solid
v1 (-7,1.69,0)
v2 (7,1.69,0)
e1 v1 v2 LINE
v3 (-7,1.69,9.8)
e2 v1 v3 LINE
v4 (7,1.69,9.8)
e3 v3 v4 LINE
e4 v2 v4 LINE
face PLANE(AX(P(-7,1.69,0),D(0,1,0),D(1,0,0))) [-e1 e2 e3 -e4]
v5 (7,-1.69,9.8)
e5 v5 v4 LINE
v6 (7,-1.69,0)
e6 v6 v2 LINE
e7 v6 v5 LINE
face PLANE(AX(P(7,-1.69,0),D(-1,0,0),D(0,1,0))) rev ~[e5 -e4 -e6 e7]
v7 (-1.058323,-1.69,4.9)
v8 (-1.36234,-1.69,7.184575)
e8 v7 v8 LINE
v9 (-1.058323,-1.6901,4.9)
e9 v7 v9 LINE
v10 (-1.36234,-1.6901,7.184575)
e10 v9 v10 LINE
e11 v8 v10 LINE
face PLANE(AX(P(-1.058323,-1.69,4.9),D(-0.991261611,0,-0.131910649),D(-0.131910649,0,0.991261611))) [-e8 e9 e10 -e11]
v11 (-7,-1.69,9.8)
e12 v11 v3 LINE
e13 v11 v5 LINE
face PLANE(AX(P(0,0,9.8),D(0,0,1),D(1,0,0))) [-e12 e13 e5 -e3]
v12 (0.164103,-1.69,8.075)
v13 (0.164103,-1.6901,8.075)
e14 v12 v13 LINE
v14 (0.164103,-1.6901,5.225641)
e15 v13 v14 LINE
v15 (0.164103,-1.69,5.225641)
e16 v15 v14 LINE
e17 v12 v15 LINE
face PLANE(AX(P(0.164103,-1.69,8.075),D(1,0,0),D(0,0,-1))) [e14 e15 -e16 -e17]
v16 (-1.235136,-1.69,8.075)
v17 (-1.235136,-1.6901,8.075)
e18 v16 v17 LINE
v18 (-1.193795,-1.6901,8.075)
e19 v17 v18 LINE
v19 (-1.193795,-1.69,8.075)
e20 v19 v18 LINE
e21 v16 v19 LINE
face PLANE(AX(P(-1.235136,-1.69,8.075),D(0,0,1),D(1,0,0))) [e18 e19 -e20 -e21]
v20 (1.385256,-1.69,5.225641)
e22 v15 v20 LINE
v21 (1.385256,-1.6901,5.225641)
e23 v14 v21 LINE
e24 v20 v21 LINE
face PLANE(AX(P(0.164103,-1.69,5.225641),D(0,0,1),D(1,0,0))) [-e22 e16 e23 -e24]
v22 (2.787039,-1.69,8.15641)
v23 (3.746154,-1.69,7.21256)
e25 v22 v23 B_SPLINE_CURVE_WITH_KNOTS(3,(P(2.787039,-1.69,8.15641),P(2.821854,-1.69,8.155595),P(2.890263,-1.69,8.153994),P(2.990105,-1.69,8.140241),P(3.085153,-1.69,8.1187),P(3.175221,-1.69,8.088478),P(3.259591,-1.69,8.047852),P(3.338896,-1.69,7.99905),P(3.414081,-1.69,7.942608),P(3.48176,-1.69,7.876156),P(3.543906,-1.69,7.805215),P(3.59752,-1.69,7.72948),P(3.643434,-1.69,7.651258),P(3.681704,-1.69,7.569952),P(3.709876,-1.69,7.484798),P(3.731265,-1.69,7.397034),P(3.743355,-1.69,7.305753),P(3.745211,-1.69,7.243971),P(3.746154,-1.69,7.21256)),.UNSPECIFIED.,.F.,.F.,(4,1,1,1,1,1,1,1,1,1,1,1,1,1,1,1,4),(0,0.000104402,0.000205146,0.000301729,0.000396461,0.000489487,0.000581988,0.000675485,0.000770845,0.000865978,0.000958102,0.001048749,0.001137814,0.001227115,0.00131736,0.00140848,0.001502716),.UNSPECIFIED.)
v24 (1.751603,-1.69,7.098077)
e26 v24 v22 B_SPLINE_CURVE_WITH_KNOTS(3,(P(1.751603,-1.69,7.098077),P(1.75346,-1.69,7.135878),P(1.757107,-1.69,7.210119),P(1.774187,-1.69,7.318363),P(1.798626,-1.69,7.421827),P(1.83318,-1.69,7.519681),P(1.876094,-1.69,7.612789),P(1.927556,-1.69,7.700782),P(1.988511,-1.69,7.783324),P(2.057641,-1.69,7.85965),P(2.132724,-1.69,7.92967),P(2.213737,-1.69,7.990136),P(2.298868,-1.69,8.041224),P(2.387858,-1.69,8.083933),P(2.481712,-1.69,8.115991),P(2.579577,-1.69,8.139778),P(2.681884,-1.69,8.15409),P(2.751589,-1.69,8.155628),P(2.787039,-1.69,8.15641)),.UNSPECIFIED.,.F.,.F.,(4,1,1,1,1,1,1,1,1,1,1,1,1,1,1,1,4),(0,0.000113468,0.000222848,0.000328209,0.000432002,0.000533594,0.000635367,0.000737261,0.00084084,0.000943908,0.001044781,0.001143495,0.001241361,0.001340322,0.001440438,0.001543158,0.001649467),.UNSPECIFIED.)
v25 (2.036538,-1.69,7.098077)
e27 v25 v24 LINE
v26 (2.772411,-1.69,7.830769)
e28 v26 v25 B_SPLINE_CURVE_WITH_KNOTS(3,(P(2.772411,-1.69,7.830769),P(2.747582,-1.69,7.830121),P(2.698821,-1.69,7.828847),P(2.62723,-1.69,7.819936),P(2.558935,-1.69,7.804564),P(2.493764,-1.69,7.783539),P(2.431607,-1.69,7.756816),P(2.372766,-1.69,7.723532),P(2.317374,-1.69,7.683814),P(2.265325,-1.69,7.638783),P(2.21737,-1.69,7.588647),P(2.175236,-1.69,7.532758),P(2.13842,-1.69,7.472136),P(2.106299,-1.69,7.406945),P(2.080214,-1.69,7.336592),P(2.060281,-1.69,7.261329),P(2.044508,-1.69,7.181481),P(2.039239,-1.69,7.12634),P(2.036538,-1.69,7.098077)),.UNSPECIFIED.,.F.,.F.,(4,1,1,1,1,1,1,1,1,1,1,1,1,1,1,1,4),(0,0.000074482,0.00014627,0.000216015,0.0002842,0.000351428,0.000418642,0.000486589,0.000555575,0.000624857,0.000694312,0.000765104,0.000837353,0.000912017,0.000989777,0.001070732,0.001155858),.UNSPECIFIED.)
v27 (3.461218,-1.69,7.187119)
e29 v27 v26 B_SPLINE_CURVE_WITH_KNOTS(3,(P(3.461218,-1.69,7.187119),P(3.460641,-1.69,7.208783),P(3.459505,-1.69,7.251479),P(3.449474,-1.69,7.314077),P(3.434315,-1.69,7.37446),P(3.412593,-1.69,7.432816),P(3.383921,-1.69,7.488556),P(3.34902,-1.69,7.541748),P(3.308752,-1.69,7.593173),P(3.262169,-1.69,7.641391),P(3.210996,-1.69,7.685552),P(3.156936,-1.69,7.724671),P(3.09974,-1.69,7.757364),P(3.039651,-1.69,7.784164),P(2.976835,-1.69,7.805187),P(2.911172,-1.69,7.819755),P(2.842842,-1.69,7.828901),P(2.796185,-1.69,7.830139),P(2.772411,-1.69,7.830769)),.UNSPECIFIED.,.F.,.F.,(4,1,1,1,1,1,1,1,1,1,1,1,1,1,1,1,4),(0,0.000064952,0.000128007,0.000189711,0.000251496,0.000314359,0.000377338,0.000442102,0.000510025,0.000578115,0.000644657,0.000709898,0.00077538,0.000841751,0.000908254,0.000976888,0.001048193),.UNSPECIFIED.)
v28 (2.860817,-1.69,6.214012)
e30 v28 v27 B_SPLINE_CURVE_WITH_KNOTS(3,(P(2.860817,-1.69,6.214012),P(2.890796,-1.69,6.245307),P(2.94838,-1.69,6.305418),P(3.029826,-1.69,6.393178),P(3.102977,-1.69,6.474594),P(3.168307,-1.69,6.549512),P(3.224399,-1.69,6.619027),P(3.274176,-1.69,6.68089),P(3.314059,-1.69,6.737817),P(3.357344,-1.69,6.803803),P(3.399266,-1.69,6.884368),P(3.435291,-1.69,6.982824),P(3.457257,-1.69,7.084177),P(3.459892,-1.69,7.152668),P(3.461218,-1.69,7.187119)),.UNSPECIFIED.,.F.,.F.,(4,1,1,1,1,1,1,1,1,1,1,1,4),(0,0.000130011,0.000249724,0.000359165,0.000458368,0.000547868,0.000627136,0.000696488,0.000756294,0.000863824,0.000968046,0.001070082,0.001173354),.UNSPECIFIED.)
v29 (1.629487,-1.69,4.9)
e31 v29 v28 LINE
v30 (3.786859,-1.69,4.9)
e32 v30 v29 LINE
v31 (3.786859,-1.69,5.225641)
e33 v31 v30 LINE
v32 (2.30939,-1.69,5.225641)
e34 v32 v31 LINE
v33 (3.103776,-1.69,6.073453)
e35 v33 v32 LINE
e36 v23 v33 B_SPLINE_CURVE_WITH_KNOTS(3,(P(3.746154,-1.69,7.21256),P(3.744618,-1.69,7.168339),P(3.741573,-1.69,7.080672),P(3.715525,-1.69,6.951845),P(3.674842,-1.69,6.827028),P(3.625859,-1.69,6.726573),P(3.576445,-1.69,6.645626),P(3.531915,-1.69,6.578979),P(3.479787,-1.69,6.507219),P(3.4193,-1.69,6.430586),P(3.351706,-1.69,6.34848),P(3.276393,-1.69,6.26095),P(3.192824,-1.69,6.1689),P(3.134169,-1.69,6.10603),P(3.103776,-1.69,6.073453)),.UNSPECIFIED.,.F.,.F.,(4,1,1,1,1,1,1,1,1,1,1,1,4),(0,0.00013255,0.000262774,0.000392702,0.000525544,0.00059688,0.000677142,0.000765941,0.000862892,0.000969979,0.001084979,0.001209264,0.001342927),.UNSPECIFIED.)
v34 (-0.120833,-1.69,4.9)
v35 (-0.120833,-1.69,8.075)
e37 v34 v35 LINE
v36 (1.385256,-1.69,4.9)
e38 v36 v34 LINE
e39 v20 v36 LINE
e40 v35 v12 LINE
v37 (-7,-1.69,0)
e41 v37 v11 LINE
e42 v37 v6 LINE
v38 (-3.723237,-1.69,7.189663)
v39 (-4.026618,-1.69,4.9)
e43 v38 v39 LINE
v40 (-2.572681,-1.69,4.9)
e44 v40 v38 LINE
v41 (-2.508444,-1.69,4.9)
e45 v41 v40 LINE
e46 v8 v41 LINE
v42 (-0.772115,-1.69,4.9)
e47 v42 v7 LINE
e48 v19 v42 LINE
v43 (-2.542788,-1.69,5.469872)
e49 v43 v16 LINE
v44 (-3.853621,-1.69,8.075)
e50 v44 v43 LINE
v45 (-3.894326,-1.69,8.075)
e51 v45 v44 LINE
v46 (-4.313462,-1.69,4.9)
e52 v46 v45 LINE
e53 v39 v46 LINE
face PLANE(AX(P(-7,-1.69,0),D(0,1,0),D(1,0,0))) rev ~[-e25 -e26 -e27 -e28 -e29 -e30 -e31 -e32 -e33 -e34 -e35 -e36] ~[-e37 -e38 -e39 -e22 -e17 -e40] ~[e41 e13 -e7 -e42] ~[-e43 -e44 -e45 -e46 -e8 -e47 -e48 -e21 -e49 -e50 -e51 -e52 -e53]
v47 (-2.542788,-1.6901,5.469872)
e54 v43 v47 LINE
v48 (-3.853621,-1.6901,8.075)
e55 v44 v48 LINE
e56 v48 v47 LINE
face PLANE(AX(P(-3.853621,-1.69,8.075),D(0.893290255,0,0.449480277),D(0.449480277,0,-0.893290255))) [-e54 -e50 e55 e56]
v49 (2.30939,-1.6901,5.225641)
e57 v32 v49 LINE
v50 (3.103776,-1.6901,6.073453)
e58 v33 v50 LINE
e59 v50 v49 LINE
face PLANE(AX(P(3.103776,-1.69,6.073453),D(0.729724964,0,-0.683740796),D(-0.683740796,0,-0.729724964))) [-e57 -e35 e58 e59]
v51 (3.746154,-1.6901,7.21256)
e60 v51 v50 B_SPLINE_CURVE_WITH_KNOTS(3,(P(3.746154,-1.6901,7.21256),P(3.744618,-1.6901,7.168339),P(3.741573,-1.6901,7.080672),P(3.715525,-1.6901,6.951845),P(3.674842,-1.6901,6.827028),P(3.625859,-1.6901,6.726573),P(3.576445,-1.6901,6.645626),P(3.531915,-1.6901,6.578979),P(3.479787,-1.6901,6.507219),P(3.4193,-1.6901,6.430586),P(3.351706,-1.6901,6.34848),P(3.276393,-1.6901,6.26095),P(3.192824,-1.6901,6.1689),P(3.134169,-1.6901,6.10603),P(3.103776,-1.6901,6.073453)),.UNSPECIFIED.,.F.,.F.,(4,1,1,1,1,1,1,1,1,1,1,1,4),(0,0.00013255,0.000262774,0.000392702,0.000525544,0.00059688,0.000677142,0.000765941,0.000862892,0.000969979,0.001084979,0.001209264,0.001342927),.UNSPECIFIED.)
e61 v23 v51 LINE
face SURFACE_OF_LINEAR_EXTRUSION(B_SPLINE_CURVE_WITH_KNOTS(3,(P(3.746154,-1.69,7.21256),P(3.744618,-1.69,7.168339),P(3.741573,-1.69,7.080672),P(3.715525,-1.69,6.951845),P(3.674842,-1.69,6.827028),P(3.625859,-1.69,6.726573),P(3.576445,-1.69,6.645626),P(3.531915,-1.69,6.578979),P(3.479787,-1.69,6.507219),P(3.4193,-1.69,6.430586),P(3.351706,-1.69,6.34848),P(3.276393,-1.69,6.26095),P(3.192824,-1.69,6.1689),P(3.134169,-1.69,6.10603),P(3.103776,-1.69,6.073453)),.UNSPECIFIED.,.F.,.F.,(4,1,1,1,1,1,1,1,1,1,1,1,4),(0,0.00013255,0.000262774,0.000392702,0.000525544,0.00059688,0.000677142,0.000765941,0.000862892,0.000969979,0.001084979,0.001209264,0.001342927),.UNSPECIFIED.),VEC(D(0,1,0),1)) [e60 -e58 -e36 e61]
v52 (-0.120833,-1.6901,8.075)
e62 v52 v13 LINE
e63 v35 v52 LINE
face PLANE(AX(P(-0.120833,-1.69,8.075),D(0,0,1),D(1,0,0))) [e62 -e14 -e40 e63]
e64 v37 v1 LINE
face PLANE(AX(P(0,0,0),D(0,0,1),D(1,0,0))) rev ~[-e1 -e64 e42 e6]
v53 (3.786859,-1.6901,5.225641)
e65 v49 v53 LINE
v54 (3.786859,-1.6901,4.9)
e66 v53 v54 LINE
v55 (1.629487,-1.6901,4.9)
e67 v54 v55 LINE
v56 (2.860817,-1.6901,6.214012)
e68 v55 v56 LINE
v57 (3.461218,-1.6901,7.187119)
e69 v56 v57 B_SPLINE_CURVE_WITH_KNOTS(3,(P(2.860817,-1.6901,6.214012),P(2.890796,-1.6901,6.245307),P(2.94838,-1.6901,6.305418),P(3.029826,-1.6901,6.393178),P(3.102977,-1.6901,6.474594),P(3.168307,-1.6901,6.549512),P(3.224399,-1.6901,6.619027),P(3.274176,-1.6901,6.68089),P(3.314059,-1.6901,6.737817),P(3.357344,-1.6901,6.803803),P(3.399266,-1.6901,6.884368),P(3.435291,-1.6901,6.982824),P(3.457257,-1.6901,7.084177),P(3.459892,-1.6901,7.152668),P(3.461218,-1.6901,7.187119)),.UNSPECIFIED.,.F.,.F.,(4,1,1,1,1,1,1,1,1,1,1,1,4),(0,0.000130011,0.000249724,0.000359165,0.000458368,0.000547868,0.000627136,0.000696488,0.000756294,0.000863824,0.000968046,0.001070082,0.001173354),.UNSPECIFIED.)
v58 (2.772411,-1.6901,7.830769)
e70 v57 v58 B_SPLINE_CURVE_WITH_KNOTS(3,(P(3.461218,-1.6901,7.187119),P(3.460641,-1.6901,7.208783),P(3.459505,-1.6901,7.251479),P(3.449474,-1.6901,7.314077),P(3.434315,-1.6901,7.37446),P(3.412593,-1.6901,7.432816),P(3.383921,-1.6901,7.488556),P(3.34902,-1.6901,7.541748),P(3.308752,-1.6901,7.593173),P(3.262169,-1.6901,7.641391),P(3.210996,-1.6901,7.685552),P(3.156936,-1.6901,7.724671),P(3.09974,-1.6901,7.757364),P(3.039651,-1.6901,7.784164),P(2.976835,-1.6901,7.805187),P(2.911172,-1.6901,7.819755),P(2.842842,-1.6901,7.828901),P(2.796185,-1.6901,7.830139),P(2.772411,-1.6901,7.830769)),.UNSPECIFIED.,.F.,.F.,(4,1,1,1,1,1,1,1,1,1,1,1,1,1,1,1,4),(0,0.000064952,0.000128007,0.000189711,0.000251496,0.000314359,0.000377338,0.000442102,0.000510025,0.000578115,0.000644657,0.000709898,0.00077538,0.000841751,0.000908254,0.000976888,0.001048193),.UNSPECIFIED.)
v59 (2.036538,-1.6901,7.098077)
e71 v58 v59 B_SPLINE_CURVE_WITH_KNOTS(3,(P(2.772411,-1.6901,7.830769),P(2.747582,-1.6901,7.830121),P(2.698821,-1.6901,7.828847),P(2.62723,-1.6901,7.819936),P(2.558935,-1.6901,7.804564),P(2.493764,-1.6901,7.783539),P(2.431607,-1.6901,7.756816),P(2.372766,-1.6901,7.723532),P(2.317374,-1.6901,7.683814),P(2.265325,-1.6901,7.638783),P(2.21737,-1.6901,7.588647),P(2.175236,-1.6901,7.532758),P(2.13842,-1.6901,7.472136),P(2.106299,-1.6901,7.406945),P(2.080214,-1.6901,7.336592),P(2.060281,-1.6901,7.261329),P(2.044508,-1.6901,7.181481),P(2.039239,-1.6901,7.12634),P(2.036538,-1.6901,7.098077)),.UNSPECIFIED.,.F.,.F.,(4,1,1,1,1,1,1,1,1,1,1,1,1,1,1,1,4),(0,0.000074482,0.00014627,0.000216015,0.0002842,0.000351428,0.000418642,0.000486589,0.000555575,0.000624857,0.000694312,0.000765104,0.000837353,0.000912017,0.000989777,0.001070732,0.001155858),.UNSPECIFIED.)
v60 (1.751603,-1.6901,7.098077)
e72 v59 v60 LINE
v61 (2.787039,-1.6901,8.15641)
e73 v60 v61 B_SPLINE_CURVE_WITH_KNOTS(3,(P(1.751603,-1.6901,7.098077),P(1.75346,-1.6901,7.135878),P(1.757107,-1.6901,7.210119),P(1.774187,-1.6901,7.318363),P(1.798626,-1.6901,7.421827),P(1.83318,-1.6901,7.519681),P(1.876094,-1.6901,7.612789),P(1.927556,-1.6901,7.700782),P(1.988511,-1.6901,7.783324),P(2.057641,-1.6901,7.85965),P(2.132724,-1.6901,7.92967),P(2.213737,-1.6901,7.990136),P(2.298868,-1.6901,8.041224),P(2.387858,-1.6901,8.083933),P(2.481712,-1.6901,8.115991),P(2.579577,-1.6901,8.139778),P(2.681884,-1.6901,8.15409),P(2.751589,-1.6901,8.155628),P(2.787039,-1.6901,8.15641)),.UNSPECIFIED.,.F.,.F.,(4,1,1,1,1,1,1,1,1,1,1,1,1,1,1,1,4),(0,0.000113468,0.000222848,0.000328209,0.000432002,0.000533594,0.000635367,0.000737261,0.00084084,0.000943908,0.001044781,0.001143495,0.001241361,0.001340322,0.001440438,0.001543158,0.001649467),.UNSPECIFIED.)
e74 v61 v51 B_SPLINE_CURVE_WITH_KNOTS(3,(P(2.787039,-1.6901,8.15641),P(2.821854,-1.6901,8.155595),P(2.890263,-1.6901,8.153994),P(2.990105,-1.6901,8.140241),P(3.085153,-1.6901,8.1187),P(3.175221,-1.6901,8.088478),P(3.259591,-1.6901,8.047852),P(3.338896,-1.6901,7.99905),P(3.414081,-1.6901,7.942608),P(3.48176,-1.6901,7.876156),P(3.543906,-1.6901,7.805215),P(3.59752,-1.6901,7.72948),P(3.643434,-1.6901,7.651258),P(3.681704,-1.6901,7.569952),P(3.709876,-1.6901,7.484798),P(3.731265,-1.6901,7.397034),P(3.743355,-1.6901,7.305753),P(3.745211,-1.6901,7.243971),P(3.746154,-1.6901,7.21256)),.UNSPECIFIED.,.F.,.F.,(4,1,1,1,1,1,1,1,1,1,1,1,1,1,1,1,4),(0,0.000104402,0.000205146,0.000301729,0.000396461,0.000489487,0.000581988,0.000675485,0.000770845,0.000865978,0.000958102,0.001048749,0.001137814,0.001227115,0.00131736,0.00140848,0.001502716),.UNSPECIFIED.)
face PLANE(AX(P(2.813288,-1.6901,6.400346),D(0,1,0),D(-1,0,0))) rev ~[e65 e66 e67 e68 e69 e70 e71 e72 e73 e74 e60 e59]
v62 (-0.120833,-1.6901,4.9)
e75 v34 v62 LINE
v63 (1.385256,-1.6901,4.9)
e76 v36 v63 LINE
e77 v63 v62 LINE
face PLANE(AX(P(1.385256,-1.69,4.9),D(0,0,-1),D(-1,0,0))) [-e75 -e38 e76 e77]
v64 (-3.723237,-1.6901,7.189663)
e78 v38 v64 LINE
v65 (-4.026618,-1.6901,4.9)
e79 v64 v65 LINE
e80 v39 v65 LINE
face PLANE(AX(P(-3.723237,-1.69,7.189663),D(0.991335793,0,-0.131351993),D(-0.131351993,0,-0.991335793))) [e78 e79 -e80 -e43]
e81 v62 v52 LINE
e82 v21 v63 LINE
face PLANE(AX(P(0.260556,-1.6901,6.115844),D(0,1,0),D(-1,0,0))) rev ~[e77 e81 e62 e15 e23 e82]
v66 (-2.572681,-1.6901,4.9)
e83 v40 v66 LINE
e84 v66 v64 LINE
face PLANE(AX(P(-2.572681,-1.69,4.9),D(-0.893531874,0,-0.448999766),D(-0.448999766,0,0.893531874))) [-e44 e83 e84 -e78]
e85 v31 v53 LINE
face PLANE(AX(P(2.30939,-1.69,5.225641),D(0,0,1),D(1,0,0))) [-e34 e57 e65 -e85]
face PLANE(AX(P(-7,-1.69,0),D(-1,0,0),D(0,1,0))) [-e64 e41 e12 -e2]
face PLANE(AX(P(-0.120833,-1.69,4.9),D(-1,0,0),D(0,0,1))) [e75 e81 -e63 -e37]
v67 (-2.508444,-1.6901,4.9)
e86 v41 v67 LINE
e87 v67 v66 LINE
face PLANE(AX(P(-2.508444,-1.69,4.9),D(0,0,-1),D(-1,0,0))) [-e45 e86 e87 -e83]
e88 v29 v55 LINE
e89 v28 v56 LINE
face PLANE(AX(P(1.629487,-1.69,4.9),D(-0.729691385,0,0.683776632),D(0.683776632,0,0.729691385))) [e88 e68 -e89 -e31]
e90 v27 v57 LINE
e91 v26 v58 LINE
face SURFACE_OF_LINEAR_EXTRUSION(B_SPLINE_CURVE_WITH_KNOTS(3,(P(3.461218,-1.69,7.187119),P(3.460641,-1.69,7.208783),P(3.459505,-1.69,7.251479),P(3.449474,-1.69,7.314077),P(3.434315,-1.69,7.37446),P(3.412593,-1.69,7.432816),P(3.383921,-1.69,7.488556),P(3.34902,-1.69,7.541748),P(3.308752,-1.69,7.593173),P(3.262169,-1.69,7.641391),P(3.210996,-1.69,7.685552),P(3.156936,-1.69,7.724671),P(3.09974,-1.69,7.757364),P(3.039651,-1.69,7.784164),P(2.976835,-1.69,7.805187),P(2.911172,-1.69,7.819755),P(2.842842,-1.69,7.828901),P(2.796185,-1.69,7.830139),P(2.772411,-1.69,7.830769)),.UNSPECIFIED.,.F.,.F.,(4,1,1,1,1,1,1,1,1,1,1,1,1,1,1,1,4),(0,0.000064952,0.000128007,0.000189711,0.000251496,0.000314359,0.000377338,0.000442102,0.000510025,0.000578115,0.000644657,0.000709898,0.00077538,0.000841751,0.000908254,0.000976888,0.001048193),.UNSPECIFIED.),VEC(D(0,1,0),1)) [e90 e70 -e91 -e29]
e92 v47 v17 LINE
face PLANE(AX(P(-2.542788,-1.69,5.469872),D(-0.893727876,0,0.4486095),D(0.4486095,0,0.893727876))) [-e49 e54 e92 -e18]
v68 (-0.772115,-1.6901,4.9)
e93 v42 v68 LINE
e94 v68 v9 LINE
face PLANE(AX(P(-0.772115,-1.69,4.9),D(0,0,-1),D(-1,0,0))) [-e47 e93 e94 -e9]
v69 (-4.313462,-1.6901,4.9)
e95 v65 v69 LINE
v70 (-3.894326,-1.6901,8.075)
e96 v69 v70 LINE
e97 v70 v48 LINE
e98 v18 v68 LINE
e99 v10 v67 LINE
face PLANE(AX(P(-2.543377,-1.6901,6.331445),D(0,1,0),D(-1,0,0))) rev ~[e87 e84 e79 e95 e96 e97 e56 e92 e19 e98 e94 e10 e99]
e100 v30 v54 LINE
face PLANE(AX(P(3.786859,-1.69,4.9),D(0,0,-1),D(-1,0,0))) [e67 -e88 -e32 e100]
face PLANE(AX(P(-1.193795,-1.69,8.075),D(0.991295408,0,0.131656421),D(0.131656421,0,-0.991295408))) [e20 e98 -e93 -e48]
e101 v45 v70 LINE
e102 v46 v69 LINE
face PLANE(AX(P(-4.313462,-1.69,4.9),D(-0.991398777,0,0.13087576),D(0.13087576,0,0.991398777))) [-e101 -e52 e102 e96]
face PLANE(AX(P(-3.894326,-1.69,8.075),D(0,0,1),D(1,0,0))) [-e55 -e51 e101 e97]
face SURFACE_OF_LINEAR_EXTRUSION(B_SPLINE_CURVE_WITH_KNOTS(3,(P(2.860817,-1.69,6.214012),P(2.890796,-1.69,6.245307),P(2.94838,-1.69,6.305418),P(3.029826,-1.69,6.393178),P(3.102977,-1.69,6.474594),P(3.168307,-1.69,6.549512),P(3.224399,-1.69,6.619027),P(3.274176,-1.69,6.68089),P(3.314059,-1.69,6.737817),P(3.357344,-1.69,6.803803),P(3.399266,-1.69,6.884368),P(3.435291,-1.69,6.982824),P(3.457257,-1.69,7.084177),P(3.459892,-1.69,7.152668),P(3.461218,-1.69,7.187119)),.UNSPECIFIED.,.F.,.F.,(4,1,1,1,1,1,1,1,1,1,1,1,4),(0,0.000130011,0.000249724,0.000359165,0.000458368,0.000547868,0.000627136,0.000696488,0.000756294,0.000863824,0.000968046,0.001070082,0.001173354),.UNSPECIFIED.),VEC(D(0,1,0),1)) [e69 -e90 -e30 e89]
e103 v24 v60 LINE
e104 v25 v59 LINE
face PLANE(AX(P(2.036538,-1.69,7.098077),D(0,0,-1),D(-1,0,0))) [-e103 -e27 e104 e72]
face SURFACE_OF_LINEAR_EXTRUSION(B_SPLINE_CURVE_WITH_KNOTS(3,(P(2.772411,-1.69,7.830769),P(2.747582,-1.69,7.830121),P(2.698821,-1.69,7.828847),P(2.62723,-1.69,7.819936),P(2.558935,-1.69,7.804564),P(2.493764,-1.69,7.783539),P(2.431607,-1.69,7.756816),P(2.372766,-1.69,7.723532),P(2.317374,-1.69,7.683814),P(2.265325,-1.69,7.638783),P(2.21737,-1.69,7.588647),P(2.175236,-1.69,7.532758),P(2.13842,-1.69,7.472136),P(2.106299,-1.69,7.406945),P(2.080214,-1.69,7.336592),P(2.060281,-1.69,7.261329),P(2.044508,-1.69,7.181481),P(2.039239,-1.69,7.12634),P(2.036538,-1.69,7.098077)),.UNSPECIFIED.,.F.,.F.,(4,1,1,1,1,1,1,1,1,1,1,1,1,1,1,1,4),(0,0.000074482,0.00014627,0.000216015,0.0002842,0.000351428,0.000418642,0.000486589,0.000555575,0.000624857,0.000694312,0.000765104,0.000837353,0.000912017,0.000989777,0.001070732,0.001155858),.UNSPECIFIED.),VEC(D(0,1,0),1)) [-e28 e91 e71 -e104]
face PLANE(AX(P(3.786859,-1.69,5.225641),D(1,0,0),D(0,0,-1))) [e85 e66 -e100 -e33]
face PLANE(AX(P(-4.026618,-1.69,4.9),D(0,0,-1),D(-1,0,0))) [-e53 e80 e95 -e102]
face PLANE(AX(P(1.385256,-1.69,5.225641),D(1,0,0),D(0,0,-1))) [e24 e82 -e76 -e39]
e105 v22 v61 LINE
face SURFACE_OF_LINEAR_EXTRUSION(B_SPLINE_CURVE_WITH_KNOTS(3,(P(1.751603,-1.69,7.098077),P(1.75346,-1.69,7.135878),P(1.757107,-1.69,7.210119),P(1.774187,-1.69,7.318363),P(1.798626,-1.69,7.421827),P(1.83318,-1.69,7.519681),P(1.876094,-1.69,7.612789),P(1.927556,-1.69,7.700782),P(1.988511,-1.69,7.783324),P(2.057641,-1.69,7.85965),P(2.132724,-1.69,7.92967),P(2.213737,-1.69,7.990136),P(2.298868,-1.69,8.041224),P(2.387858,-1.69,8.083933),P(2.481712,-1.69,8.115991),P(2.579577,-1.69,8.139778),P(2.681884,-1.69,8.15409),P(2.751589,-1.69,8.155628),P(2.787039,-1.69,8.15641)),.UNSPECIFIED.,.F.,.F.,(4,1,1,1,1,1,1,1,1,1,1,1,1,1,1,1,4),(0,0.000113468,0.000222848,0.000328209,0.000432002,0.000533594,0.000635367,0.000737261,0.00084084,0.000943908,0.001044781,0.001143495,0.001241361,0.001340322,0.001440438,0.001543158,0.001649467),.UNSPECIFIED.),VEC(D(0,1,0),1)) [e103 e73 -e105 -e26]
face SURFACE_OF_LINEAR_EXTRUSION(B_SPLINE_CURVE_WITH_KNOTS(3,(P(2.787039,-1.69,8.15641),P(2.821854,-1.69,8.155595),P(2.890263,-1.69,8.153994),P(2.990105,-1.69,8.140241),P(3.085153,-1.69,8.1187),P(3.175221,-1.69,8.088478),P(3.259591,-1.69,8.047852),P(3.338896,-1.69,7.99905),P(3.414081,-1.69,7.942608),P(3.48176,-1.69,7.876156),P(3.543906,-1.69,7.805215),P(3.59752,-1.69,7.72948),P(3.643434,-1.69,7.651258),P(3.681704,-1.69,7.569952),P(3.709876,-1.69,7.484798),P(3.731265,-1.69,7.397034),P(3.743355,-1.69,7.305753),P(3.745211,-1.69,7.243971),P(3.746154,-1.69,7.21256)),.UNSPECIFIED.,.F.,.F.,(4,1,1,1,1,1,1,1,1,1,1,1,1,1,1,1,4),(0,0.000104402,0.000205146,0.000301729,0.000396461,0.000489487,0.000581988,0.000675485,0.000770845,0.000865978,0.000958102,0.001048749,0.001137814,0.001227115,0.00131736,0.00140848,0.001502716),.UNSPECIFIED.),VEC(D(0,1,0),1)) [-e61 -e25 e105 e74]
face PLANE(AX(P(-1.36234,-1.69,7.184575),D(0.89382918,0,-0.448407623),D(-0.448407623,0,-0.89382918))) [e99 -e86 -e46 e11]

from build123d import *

# Parameters (mm, degrees)
SKETCH1_W           = 14
SKETCH1_H           = 3.38
BOSS_EXTRUDE1_DEPTH = 9.8
BOSS_EXTRUDE2_DEPTH = 0.0001


with BuildPart() as part:
    # Sketch1 → Boss-Extrude1 (new body)
    with BuildSketch(Plane.XY):
        Rectangle(SKETCH1_W, SKETCH1_H)
    extrude(amount=BOSS_EXTRUDE1_DEPTH)

    # Sketch2 → Boss-Extrude2 (add)
    with BuildSketch(Plane.XZ.offset(1.69)):
        Polygon((-4.313461538, 4.9), (-3.894325921, 8.075), (-3.853620793, 8.075), (-2.542788462, 5.469871795), (-1.235136218, 8.075), (-1.193795072, 8.075), (-0.772115385, 4.9), (-1.058323317, 4.9), (-1.362339744, 7.184575321), (-2.50844351, 4.9), (-2.57268129, 4.9), (-3.723237179, 7.189663462), (-4.026617588, 4.9), align=None)
        Polygon((-0.120833333, 8.075), (0.164102564, 8.075), (0.164102564, 5.225641026), (1.38525641, 5.225641026), (1.38525641, 4.9), (-0.120833333, 4.9), align=None)
        with BuildLine():
            Line((2.036538462, 7.098076923), (1.751602564, 7.098076923))
            add(Edge.make_bspline(
                [(1.751602564, 7.098076923), (1.753459624, 7.135878371), (1.757106841, 7.210119409), (1.774186789, 7.318363239), (1.798626014, 7.421827235), (1.833180404, 7.519680657), (1.876093956, 7.612788718), (1.927556195, 7.700781589), (1.988510617, 7.783323596), (2.057641011, 7.859649547), (2.132723991, 7.9296697), (2.213737236, 7.990135528), (2.298868082, 8.041223701), (2.387858251, 8.083933113), (2.481711762, 8.115991402), (2.579576926, 8.139778175), (2.681883714, 8.154089574), (2.751588592, 8.155627894), (2.787039263, 8.156410256)],
                knots=[0, 0, 0, 0, 0.000113468, 0.000222848, 0.000328209, 0.000432002, 0.000533594, 0.000635367, 0.000737261, 0.00084084, 0.000943908, 0.001044781, 0.001143495, 0.001241361, 0.001340322, 0.001440438, 0.001543158, 0.001649467, 0.001649467, 0.001649467, 0.001649467], degree=3))
            add(Edge.make_bspline(
                [(2.787039263, 8.156410256), (2.821853659, 8.155595228), (2.890262703, 8.153993726), (2.990104673, 8.140240507), (3.085152647, 8.118699863), (3.175220835, 8.088478021), (3.259590623, 8.047852148), (3.338895813, 7.999050095), (3.414080548, 7.942607819), (3.481759559, 7.876156146), (3.543906174, 7.805215411), (3.597520363, 7.729479956), (3.643433732, 7.651257675), (3.681703985, 7.569952092), (3.709876339, 7.484797659), (3.731265142, 7.397034125), (3.743355011, 7.305753047), (3.745210502, 7.243970671), (3.746153846, 7.212560096)],
                knots=[0, 0, 0, 0, 0.000104402, 0.000205146, 0.000301729, 0.000396461, 0.000489487, 0.000581988, 0.000675485, 0.000770845, 0.000865978, 0.000958102, 0.001048749, 0.001137814, 0.001227115, 0.00131736, 0.00140848, 0.001502716, 0.001502716, 0.001502716, 0.001502716], degree=3))
            add(Edge.make_bspline(
                [(3.746153846, 7.212560096), (3.744617815, 7.168338846), (3.741572707, 7.080672367), (3.715524666, 6.951844598), (3.674842474, 6.827027711), (3.625859157, 6.726573158), (3.576444868, 6.645625632), (3.531915487, 6.578979021), (3.479786694, 6.50721906), (3.419299771, 6.430586047), (3.351705951, 6.348479726), (3.276392988, 6.260949697), (3.19282383, 6.168900306), (3.134169333, 6.106030225), (3.103776042, 6.073452524)],
                knots=[0, 0, 0, 0, 0.00013255, 0.000262774, 0.000392702, 0.000525544, 0.00059688, 0.000677142, 0.000765941, 0.000862892, 0.000969979, 0.001084979, 0.001209264, 0.001342927, 0.001342927, 0.001342927, 0.001342927], degree=3))
            Line((3.103776042, 6.073452524), (2.309390024, 5.225641026))
            Line((2.309390024, 5.225641026), (3.786858974, 5.225641026))
            Line((3.786858974, 5.225641026), (3.786858974, 4.9))
            Line((3.786858974, 4.9), (1.629487179, 4.9))
            Line((1.629487179, 4.9), (2.860817308, 6.21401242))
            add(Edge.make_bspline(
                [(2.860817308, 6.21401242), (2.890796462, 6.245307312), (2.948380282, 6.305418396), (3.029825906, 6.393178081), (3.102976988, 6.474593736), (3.168307051, 6.549511533), (3.224398874, 6.619027313), (3.274175827, 6.680889651), (3.314058899, 6.737816902), (3.35734358, 6.803803031), (3.399266263, 6.88436849), (3.435291043, 6.982824051), (3.45725737, 7.08417663), (3.45989247, 7.152667764), (3.461217949, 7.187119391)],
                knots=[0, 0, 0, 0, 0.000130011, 0.000249724, 0.000359165, 0.000458368, 0.000547868, 0.000627136, 0.000696488, 0.000756294, 0.000863824, 0.000968046, 0.001070082, 0.001173354, 0.001173354, 0.001173354, 0.001173354], degree=3))
            add(Edge.make_bspline(
                [(3.461217949, 7.187119391), (3.46064124, 7.208783231), (3.459504657, 7.2514785), (3.449473745, 7.314076581), (3.434314929, 7.374460376), (3.412593159, 7.432815624), (3.383921331, 7.488555608), (3.349020479, 7.541748179), (3.30875235, 7.593173169), (3.262169413, 7.641390804), (3.210996106, 7.685551612), (3.156935608, 7.724671318), (3.099740156, 7.75736394), (3.039650903, 7.784164112), (2.97683537, 7.805187494), (2.911172065, 7.819754919), (2.842842422, 7.828901173), (2.796184893, 7.830138671), (2.772410857, 7.830769231)],
                knots=[0, 0, 0, 0, 6.4952e-05, 0.000128007, 0.000189711, 0.000251496, 0.000314359, 0.000377338, 0.000442102, 0.000510025, 0.000578115, 0.000644657, 0.000709898, 0.00077538, 0.000841751, 0.000908254, 0.000976888, 0.001048193, 0.001048193, 0.001048193, 0.001048193], degree=3))
            add(Edge.make_bspline(
                [(2.772410857, 7.830769231), (2.747581602, 7.830120594), (2.698821044, 7.82884678), (2.627230207, 7.81993622), (2.558935252, 7.804563922), (2.493764382, 7.783539367), (2.43160733, 7.756816255), (2.372766375, 7.723531601), (2.317373612, 7.683813718), (2.265324908, 7.638782642), (2.217369727, 7.588647032), (2.175235776, 7.532757994), (2.138420277, 7.472135982), (2.106299044, 7.406944568), (2.080213525, 7.336592211), (2.060280738, 7.26132865), (2.044508385, 7.181480682), (2.039239227, 7.126339927), (2.036538462, 7.098076923)],
                knots=[0, 0, 0, 0, 7.4482e-05, 0.00014627, 0.000216015, 0.0002842, 0.000351428, 0.000418642, 0.000486589, 0.000555575, 0.000624857, 0.000694312, 0.000765104, 0.000837353, 0.000912017, 0.000989777, 0.001070732, 0.001155858, 0.001155858, 0.001155858, 0.001155858], degree=3))
        make_face()
    extrude(amount=BOSS_EXTRUDE2_DEPTH)


solid = part.part
